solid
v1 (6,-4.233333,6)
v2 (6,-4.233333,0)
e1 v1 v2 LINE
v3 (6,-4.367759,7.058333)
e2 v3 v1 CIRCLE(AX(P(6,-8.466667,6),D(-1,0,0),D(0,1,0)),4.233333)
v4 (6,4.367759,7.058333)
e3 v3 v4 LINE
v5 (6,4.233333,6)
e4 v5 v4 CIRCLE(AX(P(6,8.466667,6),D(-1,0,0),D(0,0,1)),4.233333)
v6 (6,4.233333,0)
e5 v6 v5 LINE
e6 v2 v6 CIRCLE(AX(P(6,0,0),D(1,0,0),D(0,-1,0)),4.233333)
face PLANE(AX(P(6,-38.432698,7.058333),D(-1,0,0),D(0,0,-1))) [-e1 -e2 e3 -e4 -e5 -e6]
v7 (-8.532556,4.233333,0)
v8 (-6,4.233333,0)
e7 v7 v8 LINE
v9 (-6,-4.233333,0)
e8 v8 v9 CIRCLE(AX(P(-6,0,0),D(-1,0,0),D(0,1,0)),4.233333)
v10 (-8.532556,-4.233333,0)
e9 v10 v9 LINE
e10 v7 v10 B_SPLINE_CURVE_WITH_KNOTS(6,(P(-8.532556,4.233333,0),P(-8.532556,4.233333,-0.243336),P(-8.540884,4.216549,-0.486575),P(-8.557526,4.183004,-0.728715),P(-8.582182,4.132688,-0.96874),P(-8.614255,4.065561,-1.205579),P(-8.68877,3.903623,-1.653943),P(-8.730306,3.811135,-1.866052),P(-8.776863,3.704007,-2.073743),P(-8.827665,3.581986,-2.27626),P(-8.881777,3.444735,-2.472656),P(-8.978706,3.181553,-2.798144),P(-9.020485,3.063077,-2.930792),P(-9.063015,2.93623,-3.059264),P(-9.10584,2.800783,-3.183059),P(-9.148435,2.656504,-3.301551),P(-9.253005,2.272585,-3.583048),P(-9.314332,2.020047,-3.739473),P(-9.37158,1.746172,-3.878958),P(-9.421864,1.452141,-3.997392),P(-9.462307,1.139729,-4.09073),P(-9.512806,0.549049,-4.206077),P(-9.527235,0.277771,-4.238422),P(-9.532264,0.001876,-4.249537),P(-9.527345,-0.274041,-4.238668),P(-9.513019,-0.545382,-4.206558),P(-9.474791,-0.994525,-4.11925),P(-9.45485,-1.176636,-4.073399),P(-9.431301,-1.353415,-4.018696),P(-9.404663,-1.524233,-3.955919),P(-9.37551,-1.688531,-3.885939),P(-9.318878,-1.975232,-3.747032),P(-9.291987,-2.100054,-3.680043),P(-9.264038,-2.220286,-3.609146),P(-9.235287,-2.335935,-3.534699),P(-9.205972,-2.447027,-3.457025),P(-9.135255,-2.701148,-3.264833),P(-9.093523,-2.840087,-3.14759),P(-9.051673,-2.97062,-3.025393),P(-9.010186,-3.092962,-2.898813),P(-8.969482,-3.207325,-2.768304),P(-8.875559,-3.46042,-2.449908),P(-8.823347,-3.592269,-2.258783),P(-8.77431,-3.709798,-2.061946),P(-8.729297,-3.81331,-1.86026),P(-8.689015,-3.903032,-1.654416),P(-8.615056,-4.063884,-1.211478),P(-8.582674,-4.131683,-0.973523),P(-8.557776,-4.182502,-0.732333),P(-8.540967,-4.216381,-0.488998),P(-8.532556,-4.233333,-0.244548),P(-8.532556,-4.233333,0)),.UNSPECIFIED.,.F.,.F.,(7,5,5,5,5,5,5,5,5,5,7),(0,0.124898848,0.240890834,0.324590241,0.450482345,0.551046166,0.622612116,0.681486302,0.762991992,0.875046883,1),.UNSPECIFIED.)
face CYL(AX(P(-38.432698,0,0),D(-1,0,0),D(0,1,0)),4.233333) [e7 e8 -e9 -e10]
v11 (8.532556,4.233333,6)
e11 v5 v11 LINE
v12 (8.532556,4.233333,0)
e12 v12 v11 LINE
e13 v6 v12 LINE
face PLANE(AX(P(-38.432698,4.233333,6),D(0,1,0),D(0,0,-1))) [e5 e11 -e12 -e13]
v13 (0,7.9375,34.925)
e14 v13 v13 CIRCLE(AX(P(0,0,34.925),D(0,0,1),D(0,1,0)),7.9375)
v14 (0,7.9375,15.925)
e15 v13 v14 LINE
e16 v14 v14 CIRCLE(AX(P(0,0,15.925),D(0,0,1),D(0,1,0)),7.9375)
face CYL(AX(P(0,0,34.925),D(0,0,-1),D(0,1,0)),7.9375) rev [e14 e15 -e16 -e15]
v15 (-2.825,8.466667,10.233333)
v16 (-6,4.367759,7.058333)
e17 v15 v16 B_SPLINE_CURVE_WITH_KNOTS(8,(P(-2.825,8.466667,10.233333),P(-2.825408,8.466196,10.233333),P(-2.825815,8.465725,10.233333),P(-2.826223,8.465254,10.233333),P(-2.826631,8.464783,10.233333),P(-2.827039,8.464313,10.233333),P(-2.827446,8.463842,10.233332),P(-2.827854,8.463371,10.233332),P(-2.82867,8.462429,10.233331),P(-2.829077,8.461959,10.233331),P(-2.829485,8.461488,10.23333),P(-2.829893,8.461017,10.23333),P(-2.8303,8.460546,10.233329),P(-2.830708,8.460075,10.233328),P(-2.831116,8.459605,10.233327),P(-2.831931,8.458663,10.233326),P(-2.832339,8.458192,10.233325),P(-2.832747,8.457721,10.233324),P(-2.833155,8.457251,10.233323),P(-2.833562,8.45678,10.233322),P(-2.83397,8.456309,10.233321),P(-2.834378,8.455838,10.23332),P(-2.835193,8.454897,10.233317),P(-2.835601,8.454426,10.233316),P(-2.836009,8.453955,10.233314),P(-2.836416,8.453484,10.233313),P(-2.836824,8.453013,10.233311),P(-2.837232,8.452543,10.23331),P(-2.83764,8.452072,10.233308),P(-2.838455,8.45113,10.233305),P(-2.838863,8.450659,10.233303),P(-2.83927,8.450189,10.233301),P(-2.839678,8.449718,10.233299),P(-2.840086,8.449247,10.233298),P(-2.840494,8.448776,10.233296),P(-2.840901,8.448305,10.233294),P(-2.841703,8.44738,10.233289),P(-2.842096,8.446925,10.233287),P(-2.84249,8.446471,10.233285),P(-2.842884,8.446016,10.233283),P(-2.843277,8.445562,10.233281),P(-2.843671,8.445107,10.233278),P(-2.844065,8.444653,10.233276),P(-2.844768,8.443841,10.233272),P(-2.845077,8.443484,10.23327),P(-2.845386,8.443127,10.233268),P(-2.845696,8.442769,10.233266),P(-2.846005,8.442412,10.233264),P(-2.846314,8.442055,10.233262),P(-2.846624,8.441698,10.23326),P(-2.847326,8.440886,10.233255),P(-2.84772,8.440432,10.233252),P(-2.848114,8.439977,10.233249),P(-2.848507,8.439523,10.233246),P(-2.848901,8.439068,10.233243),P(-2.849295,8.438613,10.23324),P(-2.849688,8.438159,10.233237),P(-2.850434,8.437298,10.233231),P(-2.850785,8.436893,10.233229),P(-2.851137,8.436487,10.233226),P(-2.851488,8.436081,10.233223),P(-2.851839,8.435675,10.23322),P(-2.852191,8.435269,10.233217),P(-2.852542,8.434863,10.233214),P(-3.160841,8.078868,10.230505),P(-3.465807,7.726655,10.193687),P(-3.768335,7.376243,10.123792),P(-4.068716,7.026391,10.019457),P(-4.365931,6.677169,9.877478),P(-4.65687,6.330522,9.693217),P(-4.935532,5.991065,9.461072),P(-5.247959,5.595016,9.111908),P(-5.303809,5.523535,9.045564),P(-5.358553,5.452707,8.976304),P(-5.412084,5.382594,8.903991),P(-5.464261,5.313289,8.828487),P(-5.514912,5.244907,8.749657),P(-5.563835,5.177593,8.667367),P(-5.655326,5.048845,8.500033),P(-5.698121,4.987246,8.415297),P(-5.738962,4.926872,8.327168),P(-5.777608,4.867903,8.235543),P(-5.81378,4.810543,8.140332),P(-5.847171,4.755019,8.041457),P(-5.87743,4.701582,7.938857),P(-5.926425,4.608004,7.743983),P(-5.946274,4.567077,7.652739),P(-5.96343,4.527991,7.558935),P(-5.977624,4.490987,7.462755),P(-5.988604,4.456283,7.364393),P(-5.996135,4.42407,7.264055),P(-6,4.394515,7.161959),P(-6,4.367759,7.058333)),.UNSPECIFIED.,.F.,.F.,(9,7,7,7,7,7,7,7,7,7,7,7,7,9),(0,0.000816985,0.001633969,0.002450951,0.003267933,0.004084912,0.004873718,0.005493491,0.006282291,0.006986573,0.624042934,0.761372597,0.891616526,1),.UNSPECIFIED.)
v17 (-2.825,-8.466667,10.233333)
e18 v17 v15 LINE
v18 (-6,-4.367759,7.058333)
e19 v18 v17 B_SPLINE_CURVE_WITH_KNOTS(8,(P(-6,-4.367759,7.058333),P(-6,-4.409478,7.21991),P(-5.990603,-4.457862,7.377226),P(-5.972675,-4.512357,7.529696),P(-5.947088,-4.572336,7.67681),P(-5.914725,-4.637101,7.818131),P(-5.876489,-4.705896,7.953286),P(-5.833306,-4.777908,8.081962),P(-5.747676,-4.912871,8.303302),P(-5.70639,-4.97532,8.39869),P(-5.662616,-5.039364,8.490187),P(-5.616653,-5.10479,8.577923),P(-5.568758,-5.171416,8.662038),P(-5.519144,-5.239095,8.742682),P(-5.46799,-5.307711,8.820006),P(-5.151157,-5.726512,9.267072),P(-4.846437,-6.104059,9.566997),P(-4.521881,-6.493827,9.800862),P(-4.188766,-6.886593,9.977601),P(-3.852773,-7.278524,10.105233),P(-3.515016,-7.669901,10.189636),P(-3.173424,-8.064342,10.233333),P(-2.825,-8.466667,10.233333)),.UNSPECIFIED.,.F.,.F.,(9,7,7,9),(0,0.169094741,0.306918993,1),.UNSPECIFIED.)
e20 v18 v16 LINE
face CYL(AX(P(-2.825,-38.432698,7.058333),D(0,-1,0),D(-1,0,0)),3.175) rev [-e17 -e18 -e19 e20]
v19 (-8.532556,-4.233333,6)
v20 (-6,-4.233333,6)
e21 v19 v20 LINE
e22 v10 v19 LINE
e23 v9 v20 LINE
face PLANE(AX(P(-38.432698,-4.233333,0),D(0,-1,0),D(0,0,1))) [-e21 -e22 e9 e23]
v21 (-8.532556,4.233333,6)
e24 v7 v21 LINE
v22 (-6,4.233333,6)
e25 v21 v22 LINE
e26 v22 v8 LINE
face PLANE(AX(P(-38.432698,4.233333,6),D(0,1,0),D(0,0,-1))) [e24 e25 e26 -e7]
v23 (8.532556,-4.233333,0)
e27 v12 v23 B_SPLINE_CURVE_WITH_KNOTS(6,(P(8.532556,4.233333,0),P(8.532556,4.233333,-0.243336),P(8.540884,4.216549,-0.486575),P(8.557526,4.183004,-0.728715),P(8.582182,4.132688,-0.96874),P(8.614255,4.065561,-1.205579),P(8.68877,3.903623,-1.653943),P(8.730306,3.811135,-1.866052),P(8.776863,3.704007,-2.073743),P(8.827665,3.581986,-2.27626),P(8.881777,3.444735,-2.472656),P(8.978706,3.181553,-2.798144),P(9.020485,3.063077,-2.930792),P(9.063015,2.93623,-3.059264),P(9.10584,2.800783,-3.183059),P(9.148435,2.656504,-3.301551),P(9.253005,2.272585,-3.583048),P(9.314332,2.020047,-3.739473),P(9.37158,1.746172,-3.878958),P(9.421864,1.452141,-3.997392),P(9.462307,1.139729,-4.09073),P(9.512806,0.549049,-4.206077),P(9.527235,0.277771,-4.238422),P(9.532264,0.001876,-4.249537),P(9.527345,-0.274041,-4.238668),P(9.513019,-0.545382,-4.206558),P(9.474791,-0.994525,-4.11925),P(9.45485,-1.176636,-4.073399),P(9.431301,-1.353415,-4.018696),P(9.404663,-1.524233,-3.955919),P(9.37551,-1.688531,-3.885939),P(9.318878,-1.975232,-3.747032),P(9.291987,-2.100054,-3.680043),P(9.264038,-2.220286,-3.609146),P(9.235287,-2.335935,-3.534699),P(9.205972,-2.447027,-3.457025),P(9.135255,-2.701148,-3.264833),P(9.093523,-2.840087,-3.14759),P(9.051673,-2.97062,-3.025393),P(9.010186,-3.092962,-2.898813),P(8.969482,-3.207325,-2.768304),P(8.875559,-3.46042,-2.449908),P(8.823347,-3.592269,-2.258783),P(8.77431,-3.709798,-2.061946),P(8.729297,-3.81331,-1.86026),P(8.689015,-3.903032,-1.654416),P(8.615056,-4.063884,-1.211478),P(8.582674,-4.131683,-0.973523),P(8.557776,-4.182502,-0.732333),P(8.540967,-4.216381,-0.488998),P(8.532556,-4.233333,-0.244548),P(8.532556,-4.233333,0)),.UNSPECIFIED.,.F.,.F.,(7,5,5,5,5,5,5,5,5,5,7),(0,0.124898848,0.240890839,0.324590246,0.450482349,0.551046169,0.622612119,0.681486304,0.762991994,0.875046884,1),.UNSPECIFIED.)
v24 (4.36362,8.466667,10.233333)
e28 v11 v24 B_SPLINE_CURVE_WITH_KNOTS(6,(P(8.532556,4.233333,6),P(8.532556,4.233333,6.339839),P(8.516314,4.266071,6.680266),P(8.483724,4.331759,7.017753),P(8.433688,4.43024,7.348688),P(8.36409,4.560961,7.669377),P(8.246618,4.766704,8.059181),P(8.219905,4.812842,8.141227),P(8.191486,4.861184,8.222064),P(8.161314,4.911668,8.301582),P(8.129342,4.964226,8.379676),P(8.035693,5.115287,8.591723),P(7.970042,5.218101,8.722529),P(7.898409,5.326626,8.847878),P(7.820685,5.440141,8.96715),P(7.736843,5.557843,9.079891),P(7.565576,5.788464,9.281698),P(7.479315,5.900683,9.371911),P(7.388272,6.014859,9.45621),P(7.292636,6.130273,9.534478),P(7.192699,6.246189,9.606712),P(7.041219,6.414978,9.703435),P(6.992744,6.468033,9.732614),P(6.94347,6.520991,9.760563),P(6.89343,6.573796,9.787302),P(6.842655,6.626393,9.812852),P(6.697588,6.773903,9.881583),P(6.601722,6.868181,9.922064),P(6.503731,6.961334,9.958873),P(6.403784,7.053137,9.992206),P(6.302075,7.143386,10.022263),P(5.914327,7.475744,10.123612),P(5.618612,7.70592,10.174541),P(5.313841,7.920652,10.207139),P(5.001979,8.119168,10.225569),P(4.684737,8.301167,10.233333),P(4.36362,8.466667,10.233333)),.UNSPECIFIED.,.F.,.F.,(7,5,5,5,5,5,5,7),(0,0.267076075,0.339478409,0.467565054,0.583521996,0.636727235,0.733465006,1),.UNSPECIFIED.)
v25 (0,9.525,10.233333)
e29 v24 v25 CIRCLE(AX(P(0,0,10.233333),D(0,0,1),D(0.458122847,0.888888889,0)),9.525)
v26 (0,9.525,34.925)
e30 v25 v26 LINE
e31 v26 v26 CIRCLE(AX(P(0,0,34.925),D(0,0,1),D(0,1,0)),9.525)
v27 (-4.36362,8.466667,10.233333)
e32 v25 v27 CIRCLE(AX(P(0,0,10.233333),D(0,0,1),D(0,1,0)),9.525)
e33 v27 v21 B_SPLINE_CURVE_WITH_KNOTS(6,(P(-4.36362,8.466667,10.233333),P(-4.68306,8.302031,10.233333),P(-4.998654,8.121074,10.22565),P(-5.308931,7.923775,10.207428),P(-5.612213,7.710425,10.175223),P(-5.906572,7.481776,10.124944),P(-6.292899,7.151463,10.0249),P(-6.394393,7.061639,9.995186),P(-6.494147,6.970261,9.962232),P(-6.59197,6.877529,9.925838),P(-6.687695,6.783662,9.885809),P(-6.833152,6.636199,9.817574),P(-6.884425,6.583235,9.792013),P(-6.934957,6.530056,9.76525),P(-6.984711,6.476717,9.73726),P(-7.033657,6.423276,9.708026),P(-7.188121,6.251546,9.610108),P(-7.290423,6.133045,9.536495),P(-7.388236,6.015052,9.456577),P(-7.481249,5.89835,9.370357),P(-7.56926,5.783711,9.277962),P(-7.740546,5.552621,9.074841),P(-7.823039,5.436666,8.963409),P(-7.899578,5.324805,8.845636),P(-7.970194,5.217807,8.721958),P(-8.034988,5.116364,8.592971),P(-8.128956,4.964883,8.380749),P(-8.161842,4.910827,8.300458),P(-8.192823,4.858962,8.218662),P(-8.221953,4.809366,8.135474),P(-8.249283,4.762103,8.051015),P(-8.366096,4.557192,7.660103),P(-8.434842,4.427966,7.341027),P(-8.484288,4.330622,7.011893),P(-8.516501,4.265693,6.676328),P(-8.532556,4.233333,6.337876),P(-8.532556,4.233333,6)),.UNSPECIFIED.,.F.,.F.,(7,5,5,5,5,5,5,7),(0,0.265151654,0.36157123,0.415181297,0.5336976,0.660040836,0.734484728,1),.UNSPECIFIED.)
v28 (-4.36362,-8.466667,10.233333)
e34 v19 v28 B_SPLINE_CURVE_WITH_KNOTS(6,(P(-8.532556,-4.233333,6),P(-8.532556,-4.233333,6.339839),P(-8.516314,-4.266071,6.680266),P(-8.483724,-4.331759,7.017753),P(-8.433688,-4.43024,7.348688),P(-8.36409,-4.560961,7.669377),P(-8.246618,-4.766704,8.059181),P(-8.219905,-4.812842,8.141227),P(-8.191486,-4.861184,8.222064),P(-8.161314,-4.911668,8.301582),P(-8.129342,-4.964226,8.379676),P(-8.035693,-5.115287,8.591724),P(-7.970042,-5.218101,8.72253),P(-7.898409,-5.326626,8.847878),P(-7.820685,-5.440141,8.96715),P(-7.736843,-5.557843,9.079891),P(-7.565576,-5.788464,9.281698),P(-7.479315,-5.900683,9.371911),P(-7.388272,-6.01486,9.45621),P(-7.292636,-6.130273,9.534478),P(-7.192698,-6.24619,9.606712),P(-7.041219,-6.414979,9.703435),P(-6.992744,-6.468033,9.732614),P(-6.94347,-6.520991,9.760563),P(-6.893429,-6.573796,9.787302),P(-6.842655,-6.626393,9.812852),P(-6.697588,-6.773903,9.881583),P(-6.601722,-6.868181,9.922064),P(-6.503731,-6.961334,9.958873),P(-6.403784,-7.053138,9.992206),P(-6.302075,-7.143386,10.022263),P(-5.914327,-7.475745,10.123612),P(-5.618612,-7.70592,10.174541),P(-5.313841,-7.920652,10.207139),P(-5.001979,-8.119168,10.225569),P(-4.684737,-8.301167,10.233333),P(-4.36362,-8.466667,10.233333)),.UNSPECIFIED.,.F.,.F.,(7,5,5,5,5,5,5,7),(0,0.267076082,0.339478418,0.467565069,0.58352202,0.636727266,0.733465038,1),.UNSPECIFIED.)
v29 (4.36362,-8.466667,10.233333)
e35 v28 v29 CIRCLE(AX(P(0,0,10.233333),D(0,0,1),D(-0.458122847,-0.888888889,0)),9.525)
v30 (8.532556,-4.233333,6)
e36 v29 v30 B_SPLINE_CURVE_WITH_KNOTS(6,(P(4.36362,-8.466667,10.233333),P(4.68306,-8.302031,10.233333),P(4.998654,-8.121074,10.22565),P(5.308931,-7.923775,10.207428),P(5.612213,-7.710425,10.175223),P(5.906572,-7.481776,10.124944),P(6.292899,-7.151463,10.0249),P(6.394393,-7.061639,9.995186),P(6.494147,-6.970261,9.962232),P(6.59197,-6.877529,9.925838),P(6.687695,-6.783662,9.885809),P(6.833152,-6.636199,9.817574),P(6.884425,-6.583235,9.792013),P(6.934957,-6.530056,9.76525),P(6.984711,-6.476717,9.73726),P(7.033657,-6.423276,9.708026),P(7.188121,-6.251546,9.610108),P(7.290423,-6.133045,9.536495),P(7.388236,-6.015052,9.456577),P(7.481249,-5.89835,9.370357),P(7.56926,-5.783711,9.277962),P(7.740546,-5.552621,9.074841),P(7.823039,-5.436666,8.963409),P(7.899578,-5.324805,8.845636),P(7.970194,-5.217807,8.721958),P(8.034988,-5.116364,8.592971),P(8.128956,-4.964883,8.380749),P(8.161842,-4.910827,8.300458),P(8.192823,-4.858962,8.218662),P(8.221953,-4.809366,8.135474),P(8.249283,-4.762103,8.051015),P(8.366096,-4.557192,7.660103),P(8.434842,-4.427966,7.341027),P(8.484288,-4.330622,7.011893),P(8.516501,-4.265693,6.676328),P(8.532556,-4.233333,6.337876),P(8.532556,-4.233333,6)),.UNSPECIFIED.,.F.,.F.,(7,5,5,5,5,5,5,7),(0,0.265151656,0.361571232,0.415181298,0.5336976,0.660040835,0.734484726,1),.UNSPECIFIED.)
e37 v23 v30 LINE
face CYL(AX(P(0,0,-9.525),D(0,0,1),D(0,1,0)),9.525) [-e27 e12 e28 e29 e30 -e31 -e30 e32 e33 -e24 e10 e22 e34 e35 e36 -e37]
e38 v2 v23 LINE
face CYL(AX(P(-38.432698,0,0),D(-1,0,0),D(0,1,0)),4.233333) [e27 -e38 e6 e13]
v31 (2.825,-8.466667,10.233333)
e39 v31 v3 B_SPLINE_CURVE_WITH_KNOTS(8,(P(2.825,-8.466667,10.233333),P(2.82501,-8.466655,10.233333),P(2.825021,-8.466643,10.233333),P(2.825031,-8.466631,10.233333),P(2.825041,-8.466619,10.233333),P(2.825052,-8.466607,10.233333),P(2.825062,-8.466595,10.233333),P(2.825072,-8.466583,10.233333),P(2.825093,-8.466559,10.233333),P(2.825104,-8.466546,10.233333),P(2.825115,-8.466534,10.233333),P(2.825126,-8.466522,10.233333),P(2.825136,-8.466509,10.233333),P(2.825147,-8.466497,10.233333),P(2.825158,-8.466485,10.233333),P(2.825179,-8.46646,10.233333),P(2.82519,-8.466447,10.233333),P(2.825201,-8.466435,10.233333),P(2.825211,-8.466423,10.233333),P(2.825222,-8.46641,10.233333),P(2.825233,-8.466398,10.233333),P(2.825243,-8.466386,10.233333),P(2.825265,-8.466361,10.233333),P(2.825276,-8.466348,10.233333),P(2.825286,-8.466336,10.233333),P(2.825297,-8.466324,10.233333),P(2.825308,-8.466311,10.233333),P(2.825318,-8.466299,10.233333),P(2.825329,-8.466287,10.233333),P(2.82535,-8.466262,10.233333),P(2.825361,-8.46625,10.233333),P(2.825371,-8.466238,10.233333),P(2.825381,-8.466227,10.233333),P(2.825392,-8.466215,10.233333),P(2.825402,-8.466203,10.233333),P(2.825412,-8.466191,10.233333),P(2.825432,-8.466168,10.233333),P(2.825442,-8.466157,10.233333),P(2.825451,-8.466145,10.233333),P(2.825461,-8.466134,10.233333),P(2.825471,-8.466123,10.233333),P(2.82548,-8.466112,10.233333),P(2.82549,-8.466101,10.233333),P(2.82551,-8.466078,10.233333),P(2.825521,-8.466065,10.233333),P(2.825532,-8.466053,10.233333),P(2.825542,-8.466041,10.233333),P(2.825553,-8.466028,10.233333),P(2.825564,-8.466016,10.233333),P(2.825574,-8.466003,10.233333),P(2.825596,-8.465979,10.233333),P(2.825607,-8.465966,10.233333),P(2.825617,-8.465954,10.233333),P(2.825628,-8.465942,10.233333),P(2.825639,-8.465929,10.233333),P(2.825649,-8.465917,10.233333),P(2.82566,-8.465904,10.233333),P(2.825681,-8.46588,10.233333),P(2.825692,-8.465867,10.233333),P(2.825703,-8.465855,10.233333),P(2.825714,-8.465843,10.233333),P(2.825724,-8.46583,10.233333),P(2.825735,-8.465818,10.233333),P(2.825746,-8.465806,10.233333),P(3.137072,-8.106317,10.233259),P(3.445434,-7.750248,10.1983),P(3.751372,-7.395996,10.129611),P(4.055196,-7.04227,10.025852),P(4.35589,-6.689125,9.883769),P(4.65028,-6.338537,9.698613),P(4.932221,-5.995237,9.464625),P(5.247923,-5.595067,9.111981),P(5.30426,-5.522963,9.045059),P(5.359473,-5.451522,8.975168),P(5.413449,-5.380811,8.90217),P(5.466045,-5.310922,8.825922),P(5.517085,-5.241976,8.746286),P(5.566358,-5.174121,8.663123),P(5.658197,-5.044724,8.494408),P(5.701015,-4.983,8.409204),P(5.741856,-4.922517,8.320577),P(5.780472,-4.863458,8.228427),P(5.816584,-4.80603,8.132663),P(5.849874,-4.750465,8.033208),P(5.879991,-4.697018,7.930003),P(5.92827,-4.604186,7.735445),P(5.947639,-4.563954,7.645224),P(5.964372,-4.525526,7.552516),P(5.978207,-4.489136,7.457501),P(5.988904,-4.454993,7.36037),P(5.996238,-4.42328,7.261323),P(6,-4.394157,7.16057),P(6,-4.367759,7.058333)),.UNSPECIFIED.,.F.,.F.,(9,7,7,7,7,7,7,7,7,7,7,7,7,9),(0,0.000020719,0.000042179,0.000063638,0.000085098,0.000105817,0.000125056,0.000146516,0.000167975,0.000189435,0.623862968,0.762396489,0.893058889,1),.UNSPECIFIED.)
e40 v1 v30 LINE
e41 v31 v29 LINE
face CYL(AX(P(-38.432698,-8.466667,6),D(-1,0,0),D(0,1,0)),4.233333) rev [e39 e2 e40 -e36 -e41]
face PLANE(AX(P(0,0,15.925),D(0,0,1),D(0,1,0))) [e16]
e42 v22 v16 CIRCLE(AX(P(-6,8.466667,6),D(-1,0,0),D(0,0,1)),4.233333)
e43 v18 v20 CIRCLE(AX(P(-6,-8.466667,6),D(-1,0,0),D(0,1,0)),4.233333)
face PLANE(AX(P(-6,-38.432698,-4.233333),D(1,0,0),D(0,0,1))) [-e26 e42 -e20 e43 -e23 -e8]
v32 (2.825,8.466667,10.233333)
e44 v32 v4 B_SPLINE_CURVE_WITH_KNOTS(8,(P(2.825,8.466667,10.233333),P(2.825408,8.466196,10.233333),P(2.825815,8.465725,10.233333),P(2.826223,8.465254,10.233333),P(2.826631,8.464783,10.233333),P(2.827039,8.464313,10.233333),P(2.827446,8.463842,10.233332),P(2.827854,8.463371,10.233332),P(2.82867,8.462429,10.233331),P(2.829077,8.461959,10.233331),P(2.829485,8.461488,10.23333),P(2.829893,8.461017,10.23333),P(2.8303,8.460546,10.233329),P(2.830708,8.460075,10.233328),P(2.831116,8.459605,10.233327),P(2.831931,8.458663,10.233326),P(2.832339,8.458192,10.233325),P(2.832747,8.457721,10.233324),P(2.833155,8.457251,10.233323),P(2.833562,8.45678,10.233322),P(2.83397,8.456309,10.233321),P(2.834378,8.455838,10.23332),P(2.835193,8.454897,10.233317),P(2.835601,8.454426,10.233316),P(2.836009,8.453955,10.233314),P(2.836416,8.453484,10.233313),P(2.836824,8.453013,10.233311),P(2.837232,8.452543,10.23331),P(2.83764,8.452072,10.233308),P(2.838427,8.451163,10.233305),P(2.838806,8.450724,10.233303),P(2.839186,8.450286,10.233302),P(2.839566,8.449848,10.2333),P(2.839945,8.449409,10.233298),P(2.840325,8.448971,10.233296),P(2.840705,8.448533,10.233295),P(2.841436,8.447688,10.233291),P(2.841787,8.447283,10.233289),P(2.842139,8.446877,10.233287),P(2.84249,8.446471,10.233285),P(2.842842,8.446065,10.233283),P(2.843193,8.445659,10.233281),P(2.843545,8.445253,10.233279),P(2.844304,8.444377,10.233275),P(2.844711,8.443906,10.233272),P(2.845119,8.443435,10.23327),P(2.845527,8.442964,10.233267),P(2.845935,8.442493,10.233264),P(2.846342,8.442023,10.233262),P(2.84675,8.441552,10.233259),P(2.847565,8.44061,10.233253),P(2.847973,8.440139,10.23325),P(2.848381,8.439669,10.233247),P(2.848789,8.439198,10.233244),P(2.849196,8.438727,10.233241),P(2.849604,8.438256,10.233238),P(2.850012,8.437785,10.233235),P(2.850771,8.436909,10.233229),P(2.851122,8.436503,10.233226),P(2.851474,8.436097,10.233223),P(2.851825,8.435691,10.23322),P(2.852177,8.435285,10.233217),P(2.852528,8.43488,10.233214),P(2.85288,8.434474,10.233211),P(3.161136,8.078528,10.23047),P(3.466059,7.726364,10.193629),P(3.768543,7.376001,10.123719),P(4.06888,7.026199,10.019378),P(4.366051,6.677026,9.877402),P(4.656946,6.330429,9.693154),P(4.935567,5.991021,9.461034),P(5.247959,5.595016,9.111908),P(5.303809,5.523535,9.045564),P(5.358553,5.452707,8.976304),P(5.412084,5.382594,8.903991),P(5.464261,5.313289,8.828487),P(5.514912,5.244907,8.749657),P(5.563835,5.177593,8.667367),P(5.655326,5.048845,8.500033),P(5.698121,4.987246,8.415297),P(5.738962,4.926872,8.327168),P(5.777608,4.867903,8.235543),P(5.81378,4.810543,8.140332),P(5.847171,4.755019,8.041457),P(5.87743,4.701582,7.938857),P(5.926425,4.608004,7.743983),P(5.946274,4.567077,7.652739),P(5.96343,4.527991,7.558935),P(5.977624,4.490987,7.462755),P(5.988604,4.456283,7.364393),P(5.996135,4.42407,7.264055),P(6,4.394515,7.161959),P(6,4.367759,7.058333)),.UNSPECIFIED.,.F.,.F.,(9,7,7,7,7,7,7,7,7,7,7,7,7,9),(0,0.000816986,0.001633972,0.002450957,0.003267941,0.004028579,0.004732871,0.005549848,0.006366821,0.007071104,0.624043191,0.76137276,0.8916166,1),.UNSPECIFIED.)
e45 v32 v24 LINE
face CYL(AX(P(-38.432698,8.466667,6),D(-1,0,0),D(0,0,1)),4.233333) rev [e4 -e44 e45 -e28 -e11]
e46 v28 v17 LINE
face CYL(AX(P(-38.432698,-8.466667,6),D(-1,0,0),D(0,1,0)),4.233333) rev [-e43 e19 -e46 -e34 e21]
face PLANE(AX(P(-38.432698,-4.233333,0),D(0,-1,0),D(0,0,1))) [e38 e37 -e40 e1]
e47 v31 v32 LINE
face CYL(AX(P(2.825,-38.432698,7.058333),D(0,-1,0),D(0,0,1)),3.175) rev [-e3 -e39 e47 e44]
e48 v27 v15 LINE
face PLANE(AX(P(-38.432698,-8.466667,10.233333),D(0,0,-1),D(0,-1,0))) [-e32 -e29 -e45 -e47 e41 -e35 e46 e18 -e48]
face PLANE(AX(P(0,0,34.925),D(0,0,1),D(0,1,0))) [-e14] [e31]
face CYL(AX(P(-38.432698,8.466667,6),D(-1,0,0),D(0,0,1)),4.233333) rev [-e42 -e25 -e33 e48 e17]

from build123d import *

# Parameters (mm, degrees)
CUT_EXTRUDE1_DEPTH      = 38.432697939
CUT_EXTRUDE1_DEPTH_BACK = 38.432697939
CUT_EXTRUDE2_DEPTH      = 38.432698083
CUT_EXTRUDE2_DEPTH_BACK = 38.432698083


with BuildPart() as part:
    # Sketch1 → Revolve1 (revolve)
    with BuildSketch(Plane(origin=(0, 0, 0), x_dir=(0, 0, -1), z_dir=(1, 0, 0))):
        Polygon((-34.925, 9.525), (-34.925, 7.9375), (-15.925, 7.9375), (-15.925, 0), (9.525, 0), (9.525, 9.525), align=None)
    revolve(axis=Axis((0, 0, 0), (0, 0, 1)))

    # Sketch3 → Cut-Extrude1 (cut, two sides: drawn at the far end of the back side and taken through both)
    with BuildSketch(Plane(origin=(0, 0, 0), x_dir=(0, 0, -1), z_dir=(1, 0, 0)).offset(-CUT_EXTRUDE1_DEPTH_BACK)):
        with BuildLine():
            Line((9.525, 9.525), (-10.233333333, 9.525))
            Line((-10.233333333, 9.525), (-10.233333333, 8.466666667))
            ThreePointArc((-10.233333333, 8.466666667), (-8.993418707, 5.47324796), (-6, 4.233333333))
            Line((-6, 4.233333333), (0, 4.233333333))
            ThreePointArc((0, 4.233333333), (4.233333333, 0), (0, -4.233333333))
            Line((0, -4.233333333), (-6, -4.233333333))
            ThreePointArc((-6, -4.233333333), (-8.993418707, -5.47324796), (-10.233333333, -8.466666667))
            Line((-10.233333333, -8.466666667), (-10.233333333, -9.525))
            Line((-10.233333333, -9.525), (9.525, -9.525))
            Line((9.525, -9.525), (9.525, 9.525))
        make_face()
    extrude(amount=CUT_EXTRUDE1_DEPTH + CUT_EXTRUDE1_DEPTH_BACK, mode=Mode.SUBTRACT)

    # Sketch4 → Cut-Extrude2 (cut, two sides: drawn at the far end of the back side and taken through both)
    with BuildSketch(Plane(origin=(0, 0, 0), x_dir=(1, 0, 0), z_dir=(0, 1, 0)).offset(-CUT_EXTRUDE2_DEPTH_BACK)):
        with BuildLine():
            Line((-2.825, -10.233333333), (2.825, -10.233333333))
            ThreePointArc((2.825, -10.233333333), (5.07006403, -9.303397364), (6, -7.058333333))
            Line((6, -7.058333333), (6, 4.233333333))
            Line((6, 4.233333333), (-6, 4.233333333))
            Line((-6, 4.233333333), (-6, -7.058333333))
            ThreePointArc((-6, -7.058333333), (-5.07006403, -9.303397364), (-2.825, -10.233333333))
        make_face()
    extrude(amount=CUT_EXTRUDE2_DEPTH + CUT_EXTRUDE2_DEPTH_BACK, mode=Mode.SUBTRACT)


solid = part.part
